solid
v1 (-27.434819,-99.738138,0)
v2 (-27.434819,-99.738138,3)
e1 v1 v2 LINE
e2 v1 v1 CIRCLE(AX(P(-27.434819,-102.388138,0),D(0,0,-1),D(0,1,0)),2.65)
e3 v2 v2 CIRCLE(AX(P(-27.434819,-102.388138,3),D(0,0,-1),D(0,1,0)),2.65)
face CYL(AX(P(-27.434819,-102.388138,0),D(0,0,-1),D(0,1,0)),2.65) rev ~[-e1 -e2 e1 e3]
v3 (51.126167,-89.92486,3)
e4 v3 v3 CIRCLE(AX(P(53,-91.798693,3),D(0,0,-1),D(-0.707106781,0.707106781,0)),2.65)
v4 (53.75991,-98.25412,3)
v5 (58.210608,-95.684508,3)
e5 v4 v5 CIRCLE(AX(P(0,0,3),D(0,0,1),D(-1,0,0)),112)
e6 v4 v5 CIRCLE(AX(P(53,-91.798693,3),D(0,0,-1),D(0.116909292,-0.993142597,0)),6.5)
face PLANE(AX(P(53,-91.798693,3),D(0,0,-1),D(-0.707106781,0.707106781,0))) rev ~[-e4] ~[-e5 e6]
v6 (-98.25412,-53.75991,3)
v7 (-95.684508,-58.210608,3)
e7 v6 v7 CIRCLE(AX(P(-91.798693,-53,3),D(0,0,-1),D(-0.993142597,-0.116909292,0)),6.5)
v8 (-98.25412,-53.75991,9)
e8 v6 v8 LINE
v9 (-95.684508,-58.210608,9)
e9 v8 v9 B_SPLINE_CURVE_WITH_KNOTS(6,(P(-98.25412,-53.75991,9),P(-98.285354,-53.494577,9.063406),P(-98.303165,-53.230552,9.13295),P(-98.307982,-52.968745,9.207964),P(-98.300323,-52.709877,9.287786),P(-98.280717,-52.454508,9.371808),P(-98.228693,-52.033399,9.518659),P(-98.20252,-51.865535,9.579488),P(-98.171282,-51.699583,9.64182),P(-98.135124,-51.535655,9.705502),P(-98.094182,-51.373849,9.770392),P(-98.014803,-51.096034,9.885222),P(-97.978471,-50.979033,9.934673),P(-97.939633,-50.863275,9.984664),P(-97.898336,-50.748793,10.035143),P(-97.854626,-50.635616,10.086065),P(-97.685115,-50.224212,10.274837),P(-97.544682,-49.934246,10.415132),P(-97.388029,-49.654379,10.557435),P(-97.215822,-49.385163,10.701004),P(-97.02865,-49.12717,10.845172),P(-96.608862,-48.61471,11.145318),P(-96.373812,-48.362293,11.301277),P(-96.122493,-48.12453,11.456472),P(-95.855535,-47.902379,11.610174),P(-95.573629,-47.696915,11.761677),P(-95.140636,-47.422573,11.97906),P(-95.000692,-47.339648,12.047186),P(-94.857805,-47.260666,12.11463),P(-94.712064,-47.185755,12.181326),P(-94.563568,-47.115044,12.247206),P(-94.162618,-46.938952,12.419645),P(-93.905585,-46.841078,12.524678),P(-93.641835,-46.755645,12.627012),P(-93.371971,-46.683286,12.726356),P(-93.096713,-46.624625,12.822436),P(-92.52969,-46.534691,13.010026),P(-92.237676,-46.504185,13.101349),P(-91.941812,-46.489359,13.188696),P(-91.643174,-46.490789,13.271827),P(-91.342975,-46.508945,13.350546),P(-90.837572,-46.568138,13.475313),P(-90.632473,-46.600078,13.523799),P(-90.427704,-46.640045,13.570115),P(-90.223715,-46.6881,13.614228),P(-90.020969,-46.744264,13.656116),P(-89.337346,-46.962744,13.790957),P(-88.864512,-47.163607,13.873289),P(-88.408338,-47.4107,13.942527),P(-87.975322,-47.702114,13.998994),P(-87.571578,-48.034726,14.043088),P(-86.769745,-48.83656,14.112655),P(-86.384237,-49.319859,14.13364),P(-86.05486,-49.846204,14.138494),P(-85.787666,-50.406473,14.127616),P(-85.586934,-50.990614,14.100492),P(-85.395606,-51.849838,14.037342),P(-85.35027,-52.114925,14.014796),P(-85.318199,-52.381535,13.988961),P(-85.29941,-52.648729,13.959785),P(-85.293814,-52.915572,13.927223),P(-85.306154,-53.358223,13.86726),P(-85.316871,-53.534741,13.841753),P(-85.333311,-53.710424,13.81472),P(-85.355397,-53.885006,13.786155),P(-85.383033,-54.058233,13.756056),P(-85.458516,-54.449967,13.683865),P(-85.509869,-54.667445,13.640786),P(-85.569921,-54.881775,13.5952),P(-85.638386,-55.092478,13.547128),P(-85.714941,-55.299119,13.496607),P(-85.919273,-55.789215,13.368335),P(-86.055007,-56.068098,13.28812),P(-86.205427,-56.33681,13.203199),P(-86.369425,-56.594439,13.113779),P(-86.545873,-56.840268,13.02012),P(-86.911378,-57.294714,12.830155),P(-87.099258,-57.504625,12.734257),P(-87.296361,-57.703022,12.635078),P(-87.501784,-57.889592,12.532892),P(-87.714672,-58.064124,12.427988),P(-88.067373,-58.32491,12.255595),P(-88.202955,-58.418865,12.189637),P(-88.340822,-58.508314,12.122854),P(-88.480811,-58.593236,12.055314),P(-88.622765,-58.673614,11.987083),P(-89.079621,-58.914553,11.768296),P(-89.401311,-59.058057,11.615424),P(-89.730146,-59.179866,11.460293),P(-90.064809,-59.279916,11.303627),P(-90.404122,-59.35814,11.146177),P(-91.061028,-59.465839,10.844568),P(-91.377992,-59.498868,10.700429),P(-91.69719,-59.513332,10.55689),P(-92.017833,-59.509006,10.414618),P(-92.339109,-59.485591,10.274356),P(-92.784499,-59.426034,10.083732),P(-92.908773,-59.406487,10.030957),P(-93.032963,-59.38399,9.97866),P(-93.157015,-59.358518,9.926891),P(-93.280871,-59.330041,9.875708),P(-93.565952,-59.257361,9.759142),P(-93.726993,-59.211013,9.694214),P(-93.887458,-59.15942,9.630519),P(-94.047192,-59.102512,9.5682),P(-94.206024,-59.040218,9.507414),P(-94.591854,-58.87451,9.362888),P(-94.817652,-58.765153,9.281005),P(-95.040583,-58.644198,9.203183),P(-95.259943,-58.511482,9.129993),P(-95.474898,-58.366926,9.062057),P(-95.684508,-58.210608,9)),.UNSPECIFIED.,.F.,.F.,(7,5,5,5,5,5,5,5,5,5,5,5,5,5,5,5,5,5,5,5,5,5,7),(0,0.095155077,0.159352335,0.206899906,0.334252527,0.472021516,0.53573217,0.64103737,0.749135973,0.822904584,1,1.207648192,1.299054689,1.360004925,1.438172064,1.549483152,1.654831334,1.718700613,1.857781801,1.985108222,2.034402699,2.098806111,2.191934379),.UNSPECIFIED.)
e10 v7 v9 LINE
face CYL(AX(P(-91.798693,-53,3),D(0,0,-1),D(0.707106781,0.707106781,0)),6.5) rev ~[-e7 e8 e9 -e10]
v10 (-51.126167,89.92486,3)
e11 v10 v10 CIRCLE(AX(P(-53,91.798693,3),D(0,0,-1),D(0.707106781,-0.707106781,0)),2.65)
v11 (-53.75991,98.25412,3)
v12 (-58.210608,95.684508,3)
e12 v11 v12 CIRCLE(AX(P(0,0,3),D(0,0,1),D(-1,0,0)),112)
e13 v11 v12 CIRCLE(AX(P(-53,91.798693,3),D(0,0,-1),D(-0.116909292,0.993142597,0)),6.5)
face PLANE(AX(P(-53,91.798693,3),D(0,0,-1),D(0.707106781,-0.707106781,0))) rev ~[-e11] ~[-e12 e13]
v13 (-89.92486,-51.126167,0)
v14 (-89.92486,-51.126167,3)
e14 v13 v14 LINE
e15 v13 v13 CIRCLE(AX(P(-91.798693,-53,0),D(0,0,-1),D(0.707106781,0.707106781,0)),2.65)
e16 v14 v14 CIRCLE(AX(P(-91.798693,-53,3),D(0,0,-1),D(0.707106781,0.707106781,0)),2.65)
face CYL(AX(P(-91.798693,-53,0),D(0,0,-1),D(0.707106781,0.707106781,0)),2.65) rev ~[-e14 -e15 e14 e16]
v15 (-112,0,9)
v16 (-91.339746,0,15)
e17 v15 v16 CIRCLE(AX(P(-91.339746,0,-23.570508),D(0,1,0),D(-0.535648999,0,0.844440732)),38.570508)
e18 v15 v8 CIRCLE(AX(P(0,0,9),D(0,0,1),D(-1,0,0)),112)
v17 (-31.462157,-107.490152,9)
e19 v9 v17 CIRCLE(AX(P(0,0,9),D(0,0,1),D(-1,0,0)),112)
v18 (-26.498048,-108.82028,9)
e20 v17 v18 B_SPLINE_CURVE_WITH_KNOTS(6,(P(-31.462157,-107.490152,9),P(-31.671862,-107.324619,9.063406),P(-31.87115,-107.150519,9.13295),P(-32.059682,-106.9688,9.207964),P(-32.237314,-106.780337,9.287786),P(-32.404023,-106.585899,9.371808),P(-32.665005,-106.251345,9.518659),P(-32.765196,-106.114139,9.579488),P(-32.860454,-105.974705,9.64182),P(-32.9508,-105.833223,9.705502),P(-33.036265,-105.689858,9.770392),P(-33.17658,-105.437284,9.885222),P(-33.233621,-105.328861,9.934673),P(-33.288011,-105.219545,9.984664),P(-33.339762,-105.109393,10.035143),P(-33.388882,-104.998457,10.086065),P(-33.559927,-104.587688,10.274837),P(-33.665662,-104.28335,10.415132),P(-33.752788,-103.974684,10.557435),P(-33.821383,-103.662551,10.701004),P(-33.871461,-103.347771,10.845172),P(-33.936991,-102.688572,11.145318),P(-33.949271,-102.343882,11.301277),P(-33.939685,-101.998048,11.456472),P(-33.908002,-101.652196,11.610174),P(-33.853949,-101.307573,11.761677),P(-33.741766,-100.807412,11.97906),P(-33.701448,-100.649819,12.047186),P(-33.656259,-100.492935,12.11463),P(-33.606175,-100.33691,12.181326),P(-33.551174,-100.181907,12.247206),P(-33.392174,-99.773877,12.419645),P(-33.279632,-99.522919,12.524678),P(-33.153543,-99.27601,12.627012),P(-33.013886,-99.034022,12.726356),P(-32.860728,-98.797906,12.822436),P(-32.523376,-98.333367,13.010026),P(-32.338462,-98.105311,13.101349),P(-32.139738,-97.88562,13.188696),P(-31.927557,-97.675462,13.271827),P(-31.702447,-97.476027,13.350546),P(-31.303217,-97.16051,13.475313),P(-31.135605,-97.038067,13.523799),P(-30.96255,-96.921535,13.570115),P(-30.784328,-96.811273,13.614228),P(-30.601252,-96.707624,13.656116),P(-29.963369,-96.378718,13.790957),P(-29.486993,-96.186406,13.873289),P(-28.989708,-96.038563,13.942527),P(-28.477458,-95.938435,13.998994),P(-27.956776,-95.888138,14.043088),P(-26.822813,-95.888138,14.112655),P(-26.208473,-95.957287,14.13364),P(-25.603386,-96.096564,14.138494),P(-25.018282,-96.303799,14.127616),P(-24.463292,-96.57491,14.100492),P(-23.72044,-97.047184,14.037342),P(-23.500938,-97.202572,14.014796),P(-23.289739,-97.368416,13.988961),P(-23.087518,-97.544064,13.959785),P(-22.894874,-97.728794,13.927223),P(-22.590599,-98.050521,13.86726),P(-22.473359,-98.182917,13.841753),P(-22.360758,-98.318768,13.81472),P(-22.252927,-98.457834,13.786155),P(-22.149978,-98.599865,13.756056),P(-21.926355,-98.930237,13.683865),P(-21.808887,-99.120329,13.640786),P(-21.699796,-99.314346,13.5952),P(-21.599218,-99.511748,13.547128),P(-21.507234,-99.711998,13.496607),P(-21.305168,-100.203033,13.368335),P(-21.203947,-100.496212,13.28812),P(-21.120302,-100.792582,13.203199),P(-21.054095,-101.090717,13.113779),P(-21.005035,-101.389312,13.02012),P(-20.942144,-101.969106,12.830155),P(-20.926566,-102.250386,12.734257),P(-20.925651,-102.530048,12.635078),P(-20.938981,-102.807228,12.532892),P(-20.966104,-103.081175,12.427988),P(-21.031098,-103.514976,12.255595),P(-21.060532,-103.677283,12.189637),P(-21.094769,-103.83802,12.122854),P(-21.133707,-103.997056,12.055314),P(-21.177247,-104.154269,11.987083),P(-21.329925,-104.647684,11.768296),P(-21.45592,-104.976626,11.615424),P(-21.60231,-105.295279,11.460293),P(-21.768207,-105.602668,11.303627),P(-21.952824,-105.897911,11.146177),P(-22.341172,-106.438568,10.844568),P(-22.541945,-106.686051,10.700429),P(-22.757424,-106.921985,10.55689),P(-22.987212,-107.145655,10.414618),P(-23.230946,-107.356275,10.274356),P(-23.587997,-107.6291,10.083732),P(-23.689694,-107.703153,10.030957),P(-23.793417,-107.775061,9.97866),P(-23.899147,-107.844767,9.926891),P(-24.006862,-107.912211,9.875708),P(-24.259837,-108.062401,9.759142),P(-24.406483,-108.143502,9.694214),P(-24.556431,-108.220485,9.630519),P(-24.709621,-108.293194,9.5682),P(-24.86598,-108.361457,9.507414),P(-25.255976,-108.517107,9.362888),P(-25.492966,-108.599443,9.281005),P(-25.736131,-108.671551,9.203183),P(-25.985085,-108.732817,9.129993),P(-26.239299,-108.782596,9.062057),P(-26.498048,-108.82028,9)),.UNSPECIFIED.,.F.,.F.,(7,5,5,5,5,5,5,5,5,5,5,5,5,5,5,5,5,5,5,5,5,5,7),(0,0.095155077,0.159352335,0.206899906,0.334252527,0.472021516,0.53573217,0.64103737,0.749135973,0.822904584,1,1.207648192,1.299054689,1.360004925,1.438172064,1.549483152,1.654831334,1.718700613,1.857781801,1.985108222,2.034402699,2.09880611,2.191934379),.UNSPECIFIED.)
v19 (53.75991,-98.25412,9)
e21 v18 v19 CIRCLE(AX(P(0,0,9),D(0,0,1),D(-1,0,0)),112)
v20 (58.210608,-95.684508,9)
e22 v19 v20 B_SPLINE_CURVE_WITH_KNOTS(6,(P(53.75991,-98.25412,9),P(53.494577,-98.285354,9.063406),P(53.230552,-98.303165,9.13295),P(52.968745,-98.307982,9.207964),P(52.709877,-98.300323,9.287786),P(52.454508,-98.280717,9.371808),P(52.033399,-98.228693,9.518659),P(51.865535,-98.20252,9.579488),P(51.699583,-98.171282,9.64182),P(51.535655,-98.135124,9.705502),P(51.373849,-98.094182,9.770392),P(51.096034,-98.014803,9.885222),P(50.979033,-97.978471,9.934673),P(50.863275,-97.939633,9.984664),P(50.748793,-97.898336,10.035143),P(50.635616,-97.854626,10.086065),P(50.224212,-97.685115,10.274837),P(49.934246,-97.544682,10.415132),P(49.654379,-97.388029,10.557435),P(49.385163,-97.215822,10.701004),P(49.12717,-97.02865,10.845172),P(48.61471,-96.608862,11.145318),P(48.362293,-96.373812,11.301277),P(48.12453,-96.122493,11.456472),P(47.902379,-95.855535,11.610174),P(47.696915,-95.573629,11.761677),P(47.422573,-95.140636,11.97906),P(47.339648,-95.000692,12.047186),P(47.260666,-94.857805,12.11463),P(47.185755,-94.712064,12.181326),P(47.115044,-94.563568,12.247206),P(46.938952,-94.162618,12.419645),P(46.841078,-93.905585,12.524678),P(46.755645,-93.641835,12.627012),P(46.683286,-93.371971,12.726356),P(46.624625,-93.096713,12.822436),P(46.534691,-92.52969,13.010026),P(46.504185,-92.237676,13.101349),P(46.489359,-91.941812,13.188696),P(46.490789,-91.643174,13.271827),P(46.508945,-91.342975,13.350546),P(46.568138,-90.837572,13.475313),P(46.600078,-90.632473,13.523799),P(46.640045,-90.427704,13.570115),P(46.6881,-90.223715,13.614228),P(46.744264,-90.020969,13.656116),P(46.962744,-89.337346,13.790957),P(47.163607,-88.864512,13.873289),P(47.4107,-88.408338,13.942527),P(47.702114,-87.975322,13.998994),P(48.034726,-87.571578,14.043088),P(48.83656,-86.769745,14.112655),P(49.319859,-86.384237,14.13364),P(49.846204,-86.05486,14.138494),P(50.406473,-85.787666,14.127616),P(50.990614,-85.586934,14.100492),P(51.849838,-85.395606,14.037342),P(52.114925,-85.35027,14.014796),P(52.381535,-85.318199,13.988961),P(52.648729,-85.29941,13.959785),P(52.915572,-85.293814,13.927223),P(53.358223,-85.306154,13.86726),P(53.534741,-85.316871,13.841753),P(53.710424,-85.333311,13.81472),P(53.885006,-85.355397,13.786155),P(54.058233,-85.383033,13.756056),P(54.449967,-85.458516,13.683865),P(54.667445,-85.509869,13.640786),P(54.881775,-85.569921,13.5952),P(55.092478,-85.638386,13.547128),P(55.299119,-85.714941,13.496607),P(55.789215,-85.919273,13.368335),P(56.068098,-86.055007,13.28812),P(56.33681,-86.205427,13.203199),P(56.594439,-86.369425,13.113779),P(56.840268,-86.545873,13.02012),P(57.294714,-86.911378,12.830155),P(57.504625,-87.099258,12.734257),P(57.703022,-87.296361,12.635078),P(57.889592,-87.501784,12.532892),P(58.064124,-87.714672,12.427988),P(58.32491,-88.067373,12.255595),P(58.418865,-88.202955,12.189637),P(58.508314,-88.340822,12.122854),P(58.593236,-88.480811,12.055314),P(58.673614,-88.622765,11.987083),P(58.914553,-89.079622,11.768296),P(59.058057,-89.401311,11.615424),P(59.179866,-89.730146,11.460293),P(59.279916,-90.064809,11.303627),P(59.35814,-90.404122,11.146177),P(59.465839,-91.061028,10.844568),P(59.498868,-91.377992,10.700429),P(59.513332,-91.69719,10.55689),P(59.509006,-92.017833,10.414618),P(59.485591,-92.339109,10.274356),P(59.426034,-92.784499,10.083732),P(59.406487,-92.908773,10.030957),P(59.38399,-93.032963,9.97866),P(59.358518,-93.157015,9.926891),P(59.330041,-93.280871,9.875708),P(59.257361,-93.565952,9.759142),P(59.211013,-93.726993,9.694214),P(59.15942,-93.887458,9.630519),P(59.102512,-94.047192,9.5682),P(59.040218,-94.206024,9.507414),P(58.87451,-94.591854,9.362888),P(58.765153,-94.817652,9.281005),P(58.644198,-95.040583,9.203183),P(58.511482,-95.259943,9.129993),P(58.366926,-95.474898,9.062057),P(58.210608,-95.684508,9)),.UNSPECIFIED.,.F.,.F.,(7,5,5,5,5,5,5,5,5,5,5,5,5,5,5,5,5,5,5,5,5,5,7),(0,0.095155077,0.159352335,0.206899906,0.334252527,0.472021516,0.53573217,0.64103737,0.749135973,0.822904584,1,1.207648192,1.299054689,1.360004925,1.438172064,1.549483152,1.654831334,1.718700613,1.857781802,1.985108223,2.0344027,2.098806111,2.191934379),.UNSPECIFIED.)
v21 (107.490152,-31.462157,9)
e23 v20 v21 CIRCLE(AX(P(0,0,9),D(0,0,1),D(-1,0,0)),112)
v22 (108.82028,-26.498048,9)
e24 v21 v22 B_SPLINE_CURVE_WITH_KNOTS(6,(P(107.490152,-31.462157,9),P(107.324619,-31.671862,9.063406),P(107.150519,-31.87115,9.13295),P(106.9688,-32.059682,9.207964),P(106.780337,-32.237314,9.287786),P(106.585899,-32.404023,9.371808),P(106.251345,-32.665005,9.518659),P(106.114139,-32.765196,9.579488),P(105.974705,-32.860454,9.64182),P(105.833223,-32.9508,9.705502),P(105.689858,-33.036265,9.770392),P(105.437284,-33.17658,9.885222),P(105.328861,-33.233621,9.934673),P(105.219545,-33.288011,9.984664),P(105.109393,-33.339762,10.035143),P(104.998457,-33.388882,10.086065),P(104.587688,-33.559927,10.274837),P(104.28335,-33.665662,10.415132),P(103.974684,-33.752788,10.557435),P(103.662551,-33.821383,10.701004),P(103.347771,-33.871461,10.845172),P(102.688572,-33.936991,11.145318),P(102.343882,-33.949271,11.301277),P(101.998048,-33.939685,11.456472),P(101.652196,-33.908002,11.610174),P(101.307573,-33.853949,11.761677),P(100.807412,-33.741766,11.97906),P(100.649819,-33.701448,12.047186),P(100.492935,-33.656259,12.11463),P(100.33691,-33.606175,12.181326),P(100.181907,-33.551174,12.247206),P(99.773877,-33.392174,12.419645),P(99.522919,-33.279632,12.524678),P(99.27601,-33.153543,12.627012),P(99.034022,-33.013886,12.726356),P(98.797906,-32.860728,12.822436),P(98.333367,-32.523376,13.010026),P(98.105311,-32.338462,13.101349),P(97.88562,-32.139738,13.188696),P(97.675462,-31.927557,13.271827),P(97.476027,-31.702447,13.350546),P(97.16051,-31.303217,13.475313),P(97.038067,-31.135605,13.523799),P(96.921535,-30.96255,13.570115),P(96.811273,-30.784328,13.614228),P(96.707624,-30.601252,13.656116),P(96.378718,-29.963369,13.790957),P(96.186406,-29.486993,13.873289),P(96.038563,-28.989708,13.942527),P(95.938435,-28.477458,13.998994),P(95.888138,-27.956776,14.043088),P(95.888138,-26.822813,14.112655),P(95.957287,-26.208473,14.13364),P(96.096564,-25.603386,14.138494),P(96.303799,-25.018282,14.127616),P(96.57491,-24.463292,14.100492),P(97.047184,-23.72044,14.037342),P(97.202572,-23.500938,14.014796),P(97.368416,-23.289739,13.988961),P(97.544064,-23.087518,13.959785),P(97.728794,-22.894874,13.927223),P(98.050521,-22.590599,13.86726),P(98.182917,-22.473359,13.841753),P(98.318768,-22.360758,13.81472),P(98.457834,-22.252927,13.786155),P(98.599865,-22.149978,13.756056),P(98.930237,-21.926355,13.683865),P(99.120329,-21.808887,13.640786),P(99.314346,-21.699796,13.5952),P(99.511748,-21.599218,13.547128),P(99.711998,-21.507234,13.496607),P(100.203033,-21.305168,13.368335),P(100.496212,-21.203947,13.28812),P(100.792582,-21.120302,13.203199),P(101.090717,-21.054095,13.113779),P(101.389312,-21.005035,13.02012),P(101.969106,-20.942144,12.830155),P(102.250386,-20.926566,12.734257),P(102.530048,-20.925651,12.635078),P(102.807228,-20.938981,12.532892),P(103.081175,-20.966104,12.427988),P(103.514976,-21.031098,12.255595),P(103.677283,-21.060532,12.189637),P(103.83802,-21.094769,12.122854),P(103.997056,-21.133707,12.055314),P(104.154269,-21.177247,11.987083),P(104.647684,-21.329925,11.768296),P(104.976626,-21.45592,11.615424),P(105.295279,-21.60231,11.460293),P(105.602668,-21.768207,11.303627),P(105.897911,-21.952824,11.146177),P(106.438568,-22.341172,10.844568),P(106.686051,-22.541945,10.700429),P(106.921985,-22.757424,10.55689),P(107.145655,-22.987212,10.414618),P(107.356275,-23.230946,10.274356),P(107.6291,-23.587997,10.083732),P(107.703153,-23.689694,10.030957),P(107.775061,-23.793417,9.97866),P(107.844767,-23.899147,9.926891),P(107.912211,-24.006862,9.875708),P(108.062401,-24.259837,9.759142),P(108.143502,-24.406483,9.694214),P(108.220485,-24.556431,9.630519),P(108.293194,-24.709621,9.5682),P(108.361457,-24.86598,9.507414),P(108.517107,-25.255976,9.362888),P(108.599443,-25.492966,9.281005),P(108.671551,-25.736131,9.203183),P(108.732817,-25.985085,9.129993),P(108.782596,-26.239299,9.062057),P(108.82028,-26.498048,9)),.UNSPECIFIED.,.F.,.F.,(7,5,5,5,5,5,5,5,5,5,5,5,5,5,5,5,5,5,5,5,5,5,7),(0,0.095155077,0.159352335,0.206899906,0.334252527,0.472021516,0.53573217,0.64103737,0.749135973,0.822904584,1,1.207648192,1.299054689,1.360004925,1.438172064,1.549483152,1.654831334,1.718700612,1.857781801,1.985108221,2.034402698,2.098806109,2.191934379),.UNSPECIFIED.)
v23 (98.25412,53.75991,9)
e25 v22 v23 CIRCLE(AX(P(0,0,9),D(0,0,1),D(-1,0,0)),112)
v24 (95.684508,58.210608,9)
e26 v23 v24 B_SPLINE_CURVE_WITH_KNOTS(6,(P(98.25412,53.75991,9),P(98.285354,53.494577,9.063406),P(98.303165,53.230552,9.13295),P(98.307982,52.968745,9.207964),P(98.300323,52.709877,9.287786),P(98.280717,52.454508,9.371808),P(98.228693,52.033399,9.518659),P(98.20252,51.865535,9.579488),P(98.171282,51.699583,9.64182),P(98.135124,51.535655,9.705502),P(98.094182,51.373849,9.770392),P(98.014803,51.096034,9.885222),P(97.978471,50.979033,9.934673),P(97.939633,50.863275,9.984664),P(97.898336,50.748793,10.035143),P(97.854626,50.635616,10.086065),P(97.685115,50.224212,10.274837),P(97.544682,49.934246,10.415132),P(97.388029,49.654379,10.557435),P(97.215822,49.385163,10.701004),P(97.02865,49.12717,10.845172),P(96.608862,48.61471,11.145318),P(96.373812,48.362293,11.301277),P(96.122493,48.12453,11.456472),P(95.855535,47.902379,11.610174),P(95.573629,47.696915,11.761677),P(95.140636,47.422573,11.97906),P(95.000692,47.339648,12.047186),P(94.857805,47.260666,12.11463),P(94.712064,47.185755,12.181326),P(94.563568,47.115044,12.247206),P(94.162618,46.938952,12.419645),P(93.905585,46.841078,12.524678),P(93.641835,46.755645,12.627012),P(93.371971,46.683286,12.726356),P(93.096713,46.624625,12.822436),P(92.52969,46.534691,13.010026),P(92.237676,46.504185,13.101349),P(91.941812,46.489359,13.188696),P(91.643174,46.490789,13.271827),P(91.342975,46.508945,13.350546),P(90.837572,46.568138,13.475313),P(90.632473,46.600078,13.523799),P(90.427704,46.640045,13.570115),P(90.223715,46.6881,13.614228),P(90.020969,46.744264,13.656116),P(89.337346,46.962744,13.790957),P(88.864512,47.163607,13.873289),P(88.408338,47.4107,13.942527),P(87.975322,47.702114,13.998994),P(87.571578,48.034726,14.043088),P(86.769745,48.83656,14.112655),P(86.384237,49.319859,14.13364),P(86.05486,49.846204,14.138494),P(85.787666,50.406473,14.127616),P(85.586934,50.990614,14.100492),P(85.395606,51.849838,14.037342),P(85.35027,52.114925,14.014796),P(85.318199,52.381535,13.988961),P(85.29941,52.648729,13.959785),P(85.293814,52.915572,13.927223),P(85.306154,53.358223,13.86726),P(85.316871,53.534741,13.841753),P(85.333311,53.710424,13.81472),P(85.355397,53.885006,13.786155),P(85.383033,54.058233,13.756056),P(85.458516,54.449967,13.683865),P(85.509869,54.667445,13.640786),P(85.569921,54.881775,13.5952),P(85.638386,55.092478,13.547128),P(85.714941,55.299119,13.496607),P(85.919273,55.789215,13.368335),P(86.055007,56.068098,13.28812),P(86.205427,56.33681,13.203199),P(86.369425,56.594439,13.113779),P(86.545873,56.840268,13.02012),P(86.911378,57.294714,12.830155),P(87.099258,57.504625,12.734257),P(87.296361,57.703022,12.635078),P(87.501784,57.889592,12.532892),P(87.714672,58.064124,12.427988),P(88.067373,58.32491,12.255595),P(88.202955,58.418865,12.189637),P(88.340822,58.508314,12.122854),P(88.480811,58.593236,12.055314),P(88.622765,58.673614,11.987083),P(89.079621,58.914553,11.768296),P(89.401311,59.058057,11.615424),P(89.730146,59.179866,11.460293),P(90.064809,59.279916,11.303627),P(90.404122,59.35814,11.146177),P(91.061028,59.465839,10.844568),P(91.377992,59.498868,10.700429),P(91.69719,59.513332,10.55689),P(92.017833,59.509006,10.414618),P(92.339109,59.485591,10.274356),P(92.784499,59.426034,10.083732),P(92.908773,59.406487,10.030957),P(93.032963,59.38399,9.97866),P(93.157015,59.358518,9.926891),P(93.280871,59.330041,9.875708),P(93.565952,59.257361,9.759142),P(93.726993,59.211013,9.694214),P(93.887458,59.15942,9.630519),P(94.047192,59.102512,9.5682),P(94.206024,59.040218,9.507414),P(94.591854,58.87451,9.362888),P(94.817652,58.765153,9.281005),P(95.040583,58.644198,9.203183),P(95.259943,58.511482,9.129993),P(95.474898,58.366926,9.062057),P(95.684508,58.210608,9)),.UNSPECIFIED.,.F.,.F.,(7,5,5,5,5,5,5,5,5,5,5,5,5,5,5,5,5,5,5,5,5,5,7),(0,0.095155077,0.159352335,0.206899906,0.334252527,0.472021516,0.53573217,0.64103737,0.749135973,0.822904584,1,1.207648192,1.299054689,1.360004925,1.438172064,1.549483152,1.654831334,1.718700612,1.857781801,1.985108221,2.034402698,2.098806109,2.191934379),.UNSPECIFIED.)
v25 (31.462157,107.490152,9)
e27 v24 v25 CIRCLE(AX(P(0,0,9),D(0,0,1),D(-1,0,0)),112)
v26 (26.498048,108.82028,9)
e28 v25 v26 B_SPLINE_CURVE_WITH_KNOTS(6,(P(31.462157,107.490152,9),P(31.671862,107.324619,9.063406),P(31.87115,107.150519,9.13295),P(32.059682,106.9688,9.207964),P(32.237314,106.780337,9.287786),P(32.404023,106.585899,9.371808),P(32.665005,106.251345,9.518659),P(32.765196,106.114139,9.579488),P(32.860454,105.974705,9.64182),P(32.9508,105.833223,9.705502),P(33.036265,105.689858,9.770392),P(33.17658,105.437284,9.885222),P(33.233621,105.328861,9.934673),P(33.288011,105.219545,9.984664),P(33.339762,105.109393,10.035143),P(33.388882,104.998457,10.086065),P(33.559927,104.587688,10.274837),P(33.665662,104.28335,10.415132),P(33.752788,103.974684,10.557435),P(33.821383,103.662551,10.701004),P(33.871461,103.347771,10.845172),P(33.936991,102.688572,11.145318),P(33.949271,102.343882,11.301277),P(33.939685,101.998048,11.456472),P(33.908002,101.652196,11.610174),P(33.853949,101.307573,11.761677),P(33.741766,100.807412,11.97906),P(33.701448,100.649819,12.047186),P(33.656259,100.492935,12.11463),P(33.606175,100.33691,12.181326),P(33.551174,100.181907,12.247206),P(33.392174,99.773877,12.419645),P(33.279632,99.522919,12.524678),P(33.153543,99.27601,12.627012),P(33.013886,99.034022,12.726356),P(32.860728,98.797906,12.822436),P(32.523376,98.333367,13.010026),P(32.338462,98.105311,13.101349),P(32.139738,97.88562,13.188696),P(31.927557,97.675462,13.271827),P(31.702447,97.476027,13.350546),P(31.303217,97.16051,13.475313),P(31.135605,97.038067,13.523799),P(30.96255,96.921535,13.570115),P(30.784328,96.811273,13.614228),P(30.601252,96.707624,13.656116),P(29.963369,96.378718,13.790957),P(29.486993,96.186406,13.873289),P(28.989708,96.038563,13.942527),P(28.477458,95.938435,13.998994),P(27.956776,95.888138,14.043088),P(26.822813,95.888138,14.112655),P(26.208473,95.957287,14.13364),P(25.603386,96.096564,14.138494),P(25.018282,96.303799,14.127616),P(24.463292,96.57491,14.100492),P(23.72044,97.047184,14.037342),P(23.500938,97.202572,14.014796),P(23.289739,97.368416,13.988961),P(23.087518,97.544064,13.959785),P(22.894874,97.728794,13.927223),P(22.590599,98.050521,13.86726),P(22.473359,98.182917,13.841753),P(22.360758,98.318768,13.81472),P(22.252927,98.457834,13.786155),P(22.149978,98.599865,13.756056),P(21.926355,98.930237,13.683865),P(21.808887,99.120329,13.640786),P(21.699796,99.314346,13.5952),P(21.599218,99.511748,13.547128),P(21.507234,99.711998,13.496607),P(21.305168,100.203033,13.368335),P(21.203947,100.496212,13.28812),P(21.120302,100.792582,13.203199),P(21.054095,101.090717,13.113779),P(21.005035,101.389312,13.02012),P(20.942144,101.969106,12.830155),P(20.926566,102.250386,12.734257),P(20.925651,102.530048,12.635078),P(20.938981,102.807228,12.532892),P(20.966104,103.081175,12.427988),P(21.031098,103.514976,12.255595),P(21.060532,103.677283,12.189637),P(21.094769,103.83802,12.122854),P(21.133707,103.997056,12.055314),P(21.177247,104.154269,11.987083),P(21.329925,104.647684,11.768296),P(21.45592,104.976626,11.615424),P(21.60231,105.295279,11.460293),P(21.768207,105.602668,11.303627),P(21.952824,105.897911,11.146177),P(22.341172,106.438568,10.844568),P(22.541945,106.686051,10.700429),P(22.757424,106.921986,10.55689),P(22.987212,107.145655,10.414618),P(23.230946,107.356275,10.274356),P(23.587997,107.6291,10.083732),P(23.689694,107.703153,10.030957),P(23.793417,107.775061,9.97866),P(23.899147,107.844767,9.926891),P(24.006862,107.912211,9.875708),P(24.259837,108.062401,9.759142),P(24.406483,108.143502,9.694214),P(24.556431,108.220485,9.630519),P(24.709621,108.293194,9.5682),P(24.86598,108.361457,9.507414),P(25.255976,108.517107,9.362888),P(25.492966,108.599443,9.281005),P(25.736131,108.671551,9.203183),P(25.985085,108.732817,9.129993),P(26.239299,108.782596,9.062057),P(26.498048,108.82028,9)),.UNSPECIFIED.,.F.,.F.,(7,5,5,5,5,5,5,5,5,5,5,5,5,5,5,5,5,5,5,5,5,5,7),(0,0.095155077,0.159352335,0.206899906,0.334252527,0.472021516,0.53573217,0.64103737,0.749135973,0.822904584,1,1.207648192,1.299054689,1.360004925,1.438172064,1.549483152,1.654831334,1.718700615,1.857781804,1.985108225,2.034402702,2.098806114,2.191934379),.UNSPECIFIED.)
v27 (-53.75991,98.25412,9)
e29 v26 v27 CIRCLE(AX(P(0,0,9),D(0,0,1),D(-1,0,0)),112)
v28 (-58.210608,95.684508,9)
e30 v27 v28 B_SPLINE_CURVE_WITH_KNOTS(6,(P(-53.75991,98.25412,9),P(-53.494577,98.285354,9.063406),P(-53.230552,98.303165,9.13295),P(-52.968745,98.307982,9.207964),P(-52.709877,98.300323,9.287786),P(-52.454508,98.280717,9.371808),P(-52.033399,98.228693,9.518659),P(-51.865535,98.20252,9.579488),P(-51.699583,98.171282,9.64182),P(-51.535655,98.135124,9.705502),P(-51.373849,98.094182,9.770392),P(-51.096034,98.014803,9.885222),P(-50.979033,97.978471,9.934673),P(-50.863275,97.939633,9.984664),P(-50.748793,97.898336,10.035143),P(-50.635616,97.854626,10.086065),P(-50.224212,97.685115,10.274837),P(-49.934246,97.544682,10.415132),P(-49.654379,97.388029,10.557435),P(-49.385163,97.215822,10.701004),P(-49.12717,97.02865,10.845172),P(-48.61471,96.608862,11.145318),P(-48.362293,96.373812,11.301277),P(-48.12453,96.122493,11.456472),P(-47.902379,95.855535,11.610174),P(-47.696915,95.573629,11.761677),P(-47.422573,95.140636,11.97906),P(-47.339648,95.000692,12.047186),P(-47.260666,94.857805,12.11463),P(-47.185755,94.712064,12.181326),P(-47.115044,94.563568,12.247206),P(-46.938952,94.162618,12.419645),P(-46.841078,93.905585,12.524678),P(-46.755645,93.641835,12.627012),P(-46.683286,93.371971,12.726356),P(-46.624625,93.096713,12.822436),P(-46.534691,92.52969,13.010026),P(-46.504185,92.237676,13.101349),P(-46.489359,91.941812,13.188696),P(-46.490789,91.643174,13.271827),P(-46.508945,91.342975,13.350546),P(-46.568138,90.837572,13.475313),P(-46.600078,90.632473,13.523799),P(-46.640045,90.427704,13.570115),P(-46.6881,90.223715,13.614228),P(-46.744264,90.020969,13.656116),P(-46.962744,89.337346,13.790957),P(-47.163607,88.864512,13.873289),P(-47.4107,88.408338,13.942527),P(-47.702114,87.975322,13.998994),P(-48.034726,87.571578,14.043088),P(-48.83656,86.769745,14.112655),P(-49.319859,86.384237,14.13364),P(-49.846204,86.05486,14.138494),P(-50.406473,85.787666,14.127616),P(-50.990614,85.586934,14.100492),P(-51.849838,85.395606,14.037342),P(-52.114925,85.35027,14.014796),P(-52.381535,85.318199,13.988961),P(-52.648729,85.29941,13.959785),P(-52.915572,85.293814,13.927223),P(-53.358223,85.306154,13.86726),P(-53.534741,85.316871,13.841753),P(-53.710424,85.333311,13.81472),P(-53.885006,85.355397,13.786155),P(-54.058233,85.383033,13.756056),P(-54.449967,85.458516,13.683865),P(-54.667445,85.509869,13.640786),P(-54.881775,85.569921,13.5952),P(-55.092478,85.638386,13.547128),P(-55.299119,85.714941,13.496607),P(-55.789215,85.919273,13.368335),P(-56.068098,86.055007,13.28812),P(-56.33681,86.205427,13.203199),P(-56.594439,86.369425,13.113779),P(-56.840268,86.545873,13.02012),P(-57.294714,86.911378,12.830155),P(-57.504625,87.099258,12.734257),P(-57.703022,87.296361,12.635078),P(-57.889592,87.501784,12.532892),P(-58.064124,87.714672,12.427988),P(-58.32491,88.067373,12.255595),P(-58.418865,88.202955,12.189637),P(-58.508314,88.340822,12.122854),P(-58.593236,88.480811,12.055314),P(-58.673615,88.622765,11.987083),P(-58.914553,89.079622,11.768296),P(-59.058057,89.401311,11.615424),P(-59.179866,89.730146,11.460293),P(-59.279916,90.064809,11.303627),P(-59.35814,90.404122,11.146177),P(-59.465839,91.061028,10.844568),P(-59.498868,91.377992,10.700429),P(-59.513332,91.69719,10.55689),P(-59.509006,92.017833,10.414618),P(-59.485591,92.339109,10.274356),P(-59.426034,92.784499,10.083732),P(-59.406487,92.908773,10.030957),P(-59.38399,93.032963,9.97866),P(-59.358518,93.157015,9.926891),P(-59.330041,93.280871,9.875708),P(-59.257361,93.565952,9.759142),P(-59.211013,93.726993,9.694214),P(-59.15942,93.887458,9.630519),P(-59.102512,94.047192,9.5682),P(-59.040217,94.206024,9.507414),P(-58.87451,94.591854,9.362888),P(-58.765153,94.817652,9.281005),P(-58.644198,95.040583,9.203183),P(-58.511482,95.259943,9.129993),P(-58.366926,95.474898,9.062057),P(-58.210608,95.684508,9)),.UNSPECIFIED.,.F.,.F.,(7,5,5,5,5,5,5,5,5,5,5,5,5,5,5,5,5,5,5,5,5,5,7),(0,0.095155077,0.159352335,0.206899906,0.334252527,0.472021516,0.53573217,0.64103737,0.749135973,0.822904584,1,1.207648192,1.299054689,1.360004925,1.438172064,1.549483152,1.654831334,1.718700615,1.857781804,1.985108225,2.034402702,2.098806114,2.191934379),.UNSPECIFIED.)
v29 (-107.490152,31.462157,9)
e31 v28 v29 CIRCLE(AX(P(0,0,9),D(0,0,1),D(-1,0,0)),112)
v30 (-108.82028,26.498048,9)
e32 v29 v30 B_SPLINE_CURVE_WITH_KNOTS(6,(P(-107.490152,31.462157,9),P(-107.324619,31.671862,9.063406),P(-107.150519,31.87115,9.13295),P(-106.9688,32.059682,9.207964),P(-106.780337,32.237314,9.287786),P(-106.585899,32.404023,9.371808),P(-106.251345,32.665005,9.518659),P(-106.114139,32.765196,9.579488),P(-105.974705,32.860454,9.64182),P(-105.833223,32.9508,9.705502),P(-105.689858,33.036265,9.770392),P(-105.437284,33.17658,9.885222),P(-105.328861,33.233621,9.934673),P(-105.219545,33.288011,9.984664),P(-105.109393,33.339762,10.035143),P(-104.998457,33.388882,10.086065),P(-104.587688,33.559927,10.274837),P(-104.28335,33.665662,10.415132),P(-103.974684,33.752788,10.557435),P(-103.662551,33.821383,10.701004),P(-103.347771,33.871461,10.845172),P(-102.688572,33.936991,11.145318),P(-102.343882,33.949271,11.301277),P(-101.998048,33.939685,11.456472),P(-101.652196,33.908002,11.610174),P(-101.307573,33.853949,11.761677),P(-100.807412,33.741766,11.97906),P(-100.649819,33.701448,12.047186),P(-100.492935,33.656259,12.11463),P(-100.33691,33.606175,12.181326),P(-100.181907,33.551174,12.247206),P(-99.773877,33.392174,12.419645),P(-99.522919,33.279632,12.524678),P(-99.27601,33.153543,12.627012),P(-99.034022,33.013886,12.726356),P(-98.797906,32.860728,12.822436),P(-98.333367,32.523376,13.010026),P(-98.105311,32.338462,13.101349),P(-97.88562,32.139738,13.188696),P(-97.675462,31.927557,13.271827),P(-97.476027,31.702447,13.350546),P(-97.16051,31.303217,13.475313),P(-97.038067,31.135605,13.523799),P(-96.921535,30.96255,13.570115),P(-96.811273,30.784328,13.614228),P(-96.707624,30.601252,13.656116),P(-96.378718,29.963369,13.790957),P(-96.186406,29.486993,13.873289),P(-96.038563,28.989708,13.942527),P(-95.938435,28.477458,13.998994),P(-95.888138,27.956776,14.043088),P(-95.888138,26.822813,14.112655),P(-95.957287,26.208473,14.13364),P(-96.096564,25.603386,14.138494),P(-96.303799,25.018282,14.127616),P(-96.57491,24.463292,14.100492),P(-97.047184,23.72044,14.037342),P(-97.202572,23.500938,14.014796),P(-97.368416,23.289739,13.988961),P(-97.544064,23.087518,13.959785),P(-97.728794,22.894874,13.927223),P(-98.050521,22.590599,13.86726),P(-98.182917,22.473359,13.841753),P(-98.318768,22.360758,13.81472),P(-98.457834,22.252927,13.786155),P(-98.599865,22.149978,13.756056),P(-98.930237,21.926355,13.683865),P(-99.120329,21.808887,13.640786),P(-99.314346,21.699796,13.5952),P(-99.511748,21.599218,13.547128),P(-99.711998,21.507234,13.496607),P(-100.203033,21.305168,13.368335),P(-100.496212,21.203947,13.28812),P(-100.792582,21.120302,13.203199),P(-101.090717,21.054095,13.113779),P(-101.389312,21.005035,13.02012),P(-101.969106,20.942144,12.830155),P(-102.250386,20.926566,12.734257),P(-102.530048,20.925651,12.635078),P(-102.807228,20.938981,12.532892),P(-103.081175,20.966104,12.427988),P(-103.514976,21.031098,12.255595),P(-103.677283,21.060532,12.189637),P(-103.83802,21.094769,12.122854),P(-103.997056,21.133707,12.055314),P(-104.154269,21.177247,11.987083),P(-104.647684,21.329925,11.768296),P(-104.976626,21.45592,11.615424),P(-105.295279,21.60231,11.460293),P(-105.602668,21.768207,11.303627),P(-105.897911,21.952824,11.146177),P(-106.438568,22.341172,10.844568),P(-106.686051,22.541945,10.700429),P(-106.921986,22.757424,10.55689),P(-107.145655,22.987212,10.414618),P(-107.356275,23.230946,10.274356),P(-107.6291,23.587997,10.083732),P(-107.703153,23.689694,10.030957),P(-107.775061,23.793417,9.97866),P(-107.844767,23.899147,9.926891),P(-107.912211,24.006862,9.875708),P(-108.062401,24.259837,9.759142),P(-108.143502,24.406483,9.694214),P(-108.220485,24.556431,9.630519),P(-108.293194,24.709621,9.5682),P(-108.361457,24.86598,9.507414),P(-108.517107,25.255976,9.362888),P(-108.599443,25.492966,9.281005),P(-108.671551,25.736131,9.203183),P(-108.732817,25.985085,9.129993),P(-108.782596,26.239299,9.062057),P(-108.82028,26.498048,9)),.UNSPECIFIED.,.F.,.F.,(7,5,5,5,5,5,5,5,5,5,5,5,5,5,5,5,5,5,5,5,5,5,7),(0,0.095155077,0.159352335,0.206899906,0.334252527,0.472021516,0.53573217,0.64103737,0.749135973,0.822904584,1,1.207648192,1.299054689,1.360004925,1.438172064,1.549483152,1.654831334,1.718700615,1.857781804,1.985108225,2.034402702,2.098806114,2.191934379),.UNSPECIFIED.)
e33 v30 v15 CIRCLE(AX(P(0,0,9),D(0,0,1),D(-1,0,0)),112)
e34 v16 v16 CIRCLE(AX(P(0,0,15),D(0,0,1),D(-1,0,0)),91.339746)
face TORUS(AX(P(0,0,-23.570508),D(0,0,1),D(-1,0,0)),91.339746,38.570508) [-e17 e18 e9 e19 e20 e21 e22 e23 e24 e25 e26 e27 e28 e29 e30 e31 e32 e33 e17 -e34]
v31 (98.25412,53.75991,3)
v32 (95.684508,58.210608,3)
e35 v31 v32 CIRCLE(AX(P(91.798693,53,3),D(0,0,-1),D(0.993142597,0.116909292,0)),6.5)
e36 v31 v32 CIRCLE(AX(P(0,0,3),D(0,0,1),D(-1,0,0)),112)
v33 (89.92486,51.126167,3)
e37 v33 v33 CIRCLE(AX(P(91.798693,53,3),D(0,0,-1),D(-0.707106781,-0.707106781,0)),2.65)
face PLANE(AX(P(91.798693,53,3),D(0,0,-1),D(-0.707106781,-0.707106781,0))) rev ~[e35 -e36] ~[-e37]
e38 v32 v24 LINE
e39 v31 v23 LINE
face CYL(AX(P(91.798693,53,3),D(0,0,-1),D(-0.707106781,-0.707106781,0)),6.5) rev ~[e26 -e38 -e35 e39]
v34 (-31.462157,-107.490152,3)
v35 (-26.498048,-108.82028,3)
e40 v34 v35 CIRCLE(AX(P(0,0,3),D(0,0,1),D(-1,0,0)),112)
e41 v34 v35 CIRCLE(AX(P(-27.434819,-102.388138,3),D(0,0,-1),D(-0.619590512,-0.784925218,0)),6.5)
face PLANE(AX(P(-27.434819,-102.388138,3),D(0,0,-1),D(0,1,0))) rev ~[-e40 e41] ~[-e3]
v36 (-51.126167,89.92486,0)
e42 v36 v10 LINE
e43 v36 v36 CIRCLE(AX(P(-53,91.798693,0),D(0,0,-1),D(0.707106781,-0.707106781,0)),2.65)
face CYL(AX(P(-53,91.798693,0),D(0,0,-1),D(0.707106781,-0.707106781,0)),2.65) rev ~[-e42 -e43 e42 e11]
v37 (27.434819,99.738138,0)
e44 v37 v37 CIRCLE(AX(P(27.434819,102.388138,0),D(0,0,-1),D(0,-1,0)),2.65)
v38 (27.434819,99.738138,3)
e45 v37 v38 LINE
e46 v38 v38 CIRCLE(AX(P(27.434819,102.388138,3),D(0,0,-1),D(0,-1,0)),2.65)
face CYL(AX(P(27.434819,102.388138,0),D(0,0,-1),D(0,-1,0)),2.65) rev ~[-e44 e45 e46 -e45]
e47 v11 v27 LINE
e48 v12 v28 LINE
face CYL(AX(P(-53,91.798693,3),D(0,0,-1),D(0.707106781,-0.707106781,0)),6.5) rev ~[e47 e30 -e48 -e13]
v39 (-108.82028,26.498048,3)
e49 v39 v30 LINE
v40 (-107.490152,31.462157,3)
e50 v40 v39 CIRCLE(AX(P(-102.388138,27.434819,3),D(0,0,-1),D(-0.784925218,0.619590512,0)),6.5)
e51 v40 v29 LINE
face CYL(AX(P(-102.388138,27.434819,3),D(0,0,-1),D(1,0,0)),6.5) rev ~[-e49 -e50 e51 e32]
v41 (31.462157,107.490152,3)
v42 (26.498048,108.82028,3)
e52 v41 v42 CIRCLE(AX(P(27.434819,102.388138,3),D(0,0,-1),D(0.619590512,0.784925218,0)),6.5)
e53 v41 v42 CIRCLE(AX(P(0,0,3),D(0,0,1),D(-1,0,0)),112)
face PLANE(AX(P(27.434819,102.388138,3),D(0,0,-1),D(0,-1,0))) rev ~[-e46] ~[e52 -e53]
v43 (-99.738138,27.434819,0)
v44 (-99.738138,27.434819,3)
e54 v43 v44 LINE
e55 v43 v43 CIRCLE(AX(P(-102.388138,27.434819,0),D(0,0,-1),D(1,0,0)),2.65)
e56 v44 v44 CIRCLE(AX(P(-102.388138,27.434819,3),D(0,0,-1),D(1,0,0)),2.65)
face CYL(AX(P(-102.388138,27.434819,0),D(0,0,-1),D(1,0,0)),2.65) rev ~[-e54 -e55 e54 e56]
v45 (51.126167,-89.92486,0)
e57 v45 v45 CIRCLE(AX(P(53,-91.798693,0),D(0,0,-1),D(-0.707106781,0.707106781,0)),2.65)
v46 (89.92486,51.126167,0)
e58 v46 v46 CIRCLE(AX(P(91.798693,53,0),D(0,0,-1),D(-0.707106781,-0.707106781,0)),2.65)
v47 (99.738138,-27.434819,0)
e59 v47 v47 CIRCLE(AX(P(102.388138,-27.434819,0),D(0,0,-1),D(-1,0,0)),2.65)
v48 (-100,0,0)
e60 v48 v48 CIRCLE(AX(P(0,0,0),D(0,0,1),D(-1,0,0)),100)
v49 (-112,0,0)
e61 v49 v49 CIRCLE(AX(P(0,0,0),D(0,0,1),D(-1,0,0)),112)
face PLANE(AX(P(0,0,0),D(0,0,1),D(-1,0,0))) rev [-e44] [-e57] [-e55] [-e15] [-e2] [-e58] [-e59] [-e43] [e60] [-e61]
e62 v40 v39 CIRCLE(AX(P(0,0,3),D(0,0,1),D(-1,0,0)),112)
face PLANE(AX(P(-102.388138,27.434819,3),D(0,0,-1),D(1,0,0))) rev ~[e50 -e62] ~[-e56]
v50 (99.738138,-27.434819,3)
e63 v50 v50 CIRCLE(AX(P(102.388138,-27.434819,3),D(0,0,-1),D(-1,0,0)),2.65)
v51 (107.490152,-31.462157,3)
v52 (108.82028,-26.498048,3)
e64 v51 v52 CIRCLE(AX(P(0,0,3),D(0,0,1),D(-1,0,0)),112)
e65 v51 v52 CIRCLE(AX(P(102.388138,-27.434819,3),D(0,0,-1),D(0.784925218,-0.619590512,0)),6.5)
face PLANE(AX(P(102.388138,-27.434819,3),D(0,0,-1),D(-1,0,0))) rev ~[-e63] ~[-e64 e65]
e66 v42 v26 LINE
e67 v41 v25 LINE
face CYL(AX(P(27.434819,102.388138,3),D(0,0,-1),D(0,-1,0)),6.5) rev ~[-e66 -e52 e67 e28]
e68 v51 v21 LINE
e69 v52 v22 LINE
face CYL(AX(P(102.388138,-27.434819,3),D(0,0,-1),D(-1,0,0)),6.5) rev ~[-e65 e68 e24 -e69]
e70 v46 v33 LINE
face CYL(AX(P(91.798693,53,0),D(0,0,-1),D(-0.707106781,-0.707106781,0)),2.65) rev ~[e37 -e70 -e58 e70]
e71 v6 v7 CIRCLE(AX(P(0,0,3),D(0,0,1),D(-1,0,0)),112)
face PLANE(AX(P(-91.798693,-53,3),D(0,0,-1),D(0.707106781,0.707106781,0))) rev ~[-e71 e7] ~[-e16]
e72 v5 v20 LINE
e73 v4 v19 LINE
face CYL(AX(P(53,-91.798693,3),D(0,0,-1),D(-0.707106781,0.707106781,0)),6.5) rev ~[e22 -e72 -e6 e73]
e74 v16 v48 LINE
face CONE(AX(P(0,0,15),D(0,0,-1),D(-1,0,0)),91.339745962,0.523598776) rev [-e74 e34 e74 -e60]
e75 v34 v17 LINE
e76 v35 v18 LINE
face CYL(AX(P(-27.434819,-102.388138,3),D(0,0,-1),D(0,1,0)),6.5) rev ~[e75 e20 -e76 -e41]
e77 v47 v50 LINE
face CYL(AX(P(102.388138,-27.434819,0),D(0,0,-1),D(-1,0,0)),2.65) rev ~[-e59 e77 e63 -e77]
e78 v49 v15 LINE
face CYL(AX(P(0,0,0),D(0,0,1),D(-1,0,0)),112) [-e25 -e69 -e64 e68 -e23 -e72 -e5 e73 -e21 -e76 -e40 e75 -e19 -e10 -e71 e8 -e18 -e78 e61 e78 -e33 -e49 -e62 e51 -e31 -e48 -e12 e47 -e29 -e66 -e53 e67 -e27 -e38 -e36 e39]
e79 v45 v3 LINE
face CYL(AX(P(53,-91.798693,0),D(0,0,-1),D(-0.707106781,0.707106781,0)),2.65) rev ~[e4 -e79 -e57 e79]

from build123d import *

# Parameters (mm, degrees)
SKETCH3_R          = 2.65
CUT_EXTRUDE1_DEPTH = 160.100597108
CUT_EXTRUDE2_START = -3
SKETCH4_R          = 6.5
CUT_EXTRUDE2_DEPTH = 157.100597258
CIRPATTERN1_COUNT  = 8


with BuildPart() as part:
    # Sketch2 → Revolve1 (revolve)
    with BuildSketch(Plane(origin=(0, 0, 0), x_dir=(1, 0, 0), z_dir=(0, 1, 0))):
        with BuildLine():
            Line((-100, 0), (-112, 0))
            Line((-112, 0), (-112, -9))
            ThreePointArc((-112, -9), (-102.096675088, -13.469639994), (-91.339745962, -15))
            Line((-91.339745962, -15), (-100, 0))
        make_face()
    revolve(axis=Axis((0, 0, 0), (0, 0, 1)))

    # Sketch3 → Cut-Extrude1 (cut, through all)
    with BuildSketch(Plane(origin=(0, 0, 0), x_dir=(-1, 0, 0), z_dir=(0, 0, -1))):
        with Locations((-102.388137587, -27.434818781)):
            Circle(SKETCH3_R)
    cut_extrude1 = extrude(amount=-CUT_EXTRUDE1_DEPTH, mode=Mode.SUBTRACT)

    # Sketch4 → Cut-Extrude2 (cut, through all)
    with BuildSketch(Plane(origin=(0, 0, 0), x_dir=(-1, 0, 0), z_dir=(0, 0, -1)).offset(CUT_EXTRUDE2_START)):
        with Locations((-102.388137587, -27.434818781)):
            Circle(SKETCH4_R)
    cut_extrude2 = extrude(amount=-CUT_EXTRUDE2_DEPTH, mode=Mode.SUBTRACT)

    # CirPattern1: Cut-Extrude1, Cut-Extrude2 ×8 about axis
    cirpattern1_axis = Axis((0, 0, 0), (0, 0, -1))
    add([cut_extrude1.rotate(cirpattern1_axis, i * 360 / CIRPATTERN1_COUNT) for i in range(1, CIRPATTERN1_COUNT)], mode=Mode.SUBTRACT)
    add([cut_extrude2.rotate(cirpattern1_axis, i * 360 / CIRPATTERN1_COUNT) for i in range(1, CIRPATTERN1_COUNT)], mode=Mode.SUBTRACT)


solid = part.part
